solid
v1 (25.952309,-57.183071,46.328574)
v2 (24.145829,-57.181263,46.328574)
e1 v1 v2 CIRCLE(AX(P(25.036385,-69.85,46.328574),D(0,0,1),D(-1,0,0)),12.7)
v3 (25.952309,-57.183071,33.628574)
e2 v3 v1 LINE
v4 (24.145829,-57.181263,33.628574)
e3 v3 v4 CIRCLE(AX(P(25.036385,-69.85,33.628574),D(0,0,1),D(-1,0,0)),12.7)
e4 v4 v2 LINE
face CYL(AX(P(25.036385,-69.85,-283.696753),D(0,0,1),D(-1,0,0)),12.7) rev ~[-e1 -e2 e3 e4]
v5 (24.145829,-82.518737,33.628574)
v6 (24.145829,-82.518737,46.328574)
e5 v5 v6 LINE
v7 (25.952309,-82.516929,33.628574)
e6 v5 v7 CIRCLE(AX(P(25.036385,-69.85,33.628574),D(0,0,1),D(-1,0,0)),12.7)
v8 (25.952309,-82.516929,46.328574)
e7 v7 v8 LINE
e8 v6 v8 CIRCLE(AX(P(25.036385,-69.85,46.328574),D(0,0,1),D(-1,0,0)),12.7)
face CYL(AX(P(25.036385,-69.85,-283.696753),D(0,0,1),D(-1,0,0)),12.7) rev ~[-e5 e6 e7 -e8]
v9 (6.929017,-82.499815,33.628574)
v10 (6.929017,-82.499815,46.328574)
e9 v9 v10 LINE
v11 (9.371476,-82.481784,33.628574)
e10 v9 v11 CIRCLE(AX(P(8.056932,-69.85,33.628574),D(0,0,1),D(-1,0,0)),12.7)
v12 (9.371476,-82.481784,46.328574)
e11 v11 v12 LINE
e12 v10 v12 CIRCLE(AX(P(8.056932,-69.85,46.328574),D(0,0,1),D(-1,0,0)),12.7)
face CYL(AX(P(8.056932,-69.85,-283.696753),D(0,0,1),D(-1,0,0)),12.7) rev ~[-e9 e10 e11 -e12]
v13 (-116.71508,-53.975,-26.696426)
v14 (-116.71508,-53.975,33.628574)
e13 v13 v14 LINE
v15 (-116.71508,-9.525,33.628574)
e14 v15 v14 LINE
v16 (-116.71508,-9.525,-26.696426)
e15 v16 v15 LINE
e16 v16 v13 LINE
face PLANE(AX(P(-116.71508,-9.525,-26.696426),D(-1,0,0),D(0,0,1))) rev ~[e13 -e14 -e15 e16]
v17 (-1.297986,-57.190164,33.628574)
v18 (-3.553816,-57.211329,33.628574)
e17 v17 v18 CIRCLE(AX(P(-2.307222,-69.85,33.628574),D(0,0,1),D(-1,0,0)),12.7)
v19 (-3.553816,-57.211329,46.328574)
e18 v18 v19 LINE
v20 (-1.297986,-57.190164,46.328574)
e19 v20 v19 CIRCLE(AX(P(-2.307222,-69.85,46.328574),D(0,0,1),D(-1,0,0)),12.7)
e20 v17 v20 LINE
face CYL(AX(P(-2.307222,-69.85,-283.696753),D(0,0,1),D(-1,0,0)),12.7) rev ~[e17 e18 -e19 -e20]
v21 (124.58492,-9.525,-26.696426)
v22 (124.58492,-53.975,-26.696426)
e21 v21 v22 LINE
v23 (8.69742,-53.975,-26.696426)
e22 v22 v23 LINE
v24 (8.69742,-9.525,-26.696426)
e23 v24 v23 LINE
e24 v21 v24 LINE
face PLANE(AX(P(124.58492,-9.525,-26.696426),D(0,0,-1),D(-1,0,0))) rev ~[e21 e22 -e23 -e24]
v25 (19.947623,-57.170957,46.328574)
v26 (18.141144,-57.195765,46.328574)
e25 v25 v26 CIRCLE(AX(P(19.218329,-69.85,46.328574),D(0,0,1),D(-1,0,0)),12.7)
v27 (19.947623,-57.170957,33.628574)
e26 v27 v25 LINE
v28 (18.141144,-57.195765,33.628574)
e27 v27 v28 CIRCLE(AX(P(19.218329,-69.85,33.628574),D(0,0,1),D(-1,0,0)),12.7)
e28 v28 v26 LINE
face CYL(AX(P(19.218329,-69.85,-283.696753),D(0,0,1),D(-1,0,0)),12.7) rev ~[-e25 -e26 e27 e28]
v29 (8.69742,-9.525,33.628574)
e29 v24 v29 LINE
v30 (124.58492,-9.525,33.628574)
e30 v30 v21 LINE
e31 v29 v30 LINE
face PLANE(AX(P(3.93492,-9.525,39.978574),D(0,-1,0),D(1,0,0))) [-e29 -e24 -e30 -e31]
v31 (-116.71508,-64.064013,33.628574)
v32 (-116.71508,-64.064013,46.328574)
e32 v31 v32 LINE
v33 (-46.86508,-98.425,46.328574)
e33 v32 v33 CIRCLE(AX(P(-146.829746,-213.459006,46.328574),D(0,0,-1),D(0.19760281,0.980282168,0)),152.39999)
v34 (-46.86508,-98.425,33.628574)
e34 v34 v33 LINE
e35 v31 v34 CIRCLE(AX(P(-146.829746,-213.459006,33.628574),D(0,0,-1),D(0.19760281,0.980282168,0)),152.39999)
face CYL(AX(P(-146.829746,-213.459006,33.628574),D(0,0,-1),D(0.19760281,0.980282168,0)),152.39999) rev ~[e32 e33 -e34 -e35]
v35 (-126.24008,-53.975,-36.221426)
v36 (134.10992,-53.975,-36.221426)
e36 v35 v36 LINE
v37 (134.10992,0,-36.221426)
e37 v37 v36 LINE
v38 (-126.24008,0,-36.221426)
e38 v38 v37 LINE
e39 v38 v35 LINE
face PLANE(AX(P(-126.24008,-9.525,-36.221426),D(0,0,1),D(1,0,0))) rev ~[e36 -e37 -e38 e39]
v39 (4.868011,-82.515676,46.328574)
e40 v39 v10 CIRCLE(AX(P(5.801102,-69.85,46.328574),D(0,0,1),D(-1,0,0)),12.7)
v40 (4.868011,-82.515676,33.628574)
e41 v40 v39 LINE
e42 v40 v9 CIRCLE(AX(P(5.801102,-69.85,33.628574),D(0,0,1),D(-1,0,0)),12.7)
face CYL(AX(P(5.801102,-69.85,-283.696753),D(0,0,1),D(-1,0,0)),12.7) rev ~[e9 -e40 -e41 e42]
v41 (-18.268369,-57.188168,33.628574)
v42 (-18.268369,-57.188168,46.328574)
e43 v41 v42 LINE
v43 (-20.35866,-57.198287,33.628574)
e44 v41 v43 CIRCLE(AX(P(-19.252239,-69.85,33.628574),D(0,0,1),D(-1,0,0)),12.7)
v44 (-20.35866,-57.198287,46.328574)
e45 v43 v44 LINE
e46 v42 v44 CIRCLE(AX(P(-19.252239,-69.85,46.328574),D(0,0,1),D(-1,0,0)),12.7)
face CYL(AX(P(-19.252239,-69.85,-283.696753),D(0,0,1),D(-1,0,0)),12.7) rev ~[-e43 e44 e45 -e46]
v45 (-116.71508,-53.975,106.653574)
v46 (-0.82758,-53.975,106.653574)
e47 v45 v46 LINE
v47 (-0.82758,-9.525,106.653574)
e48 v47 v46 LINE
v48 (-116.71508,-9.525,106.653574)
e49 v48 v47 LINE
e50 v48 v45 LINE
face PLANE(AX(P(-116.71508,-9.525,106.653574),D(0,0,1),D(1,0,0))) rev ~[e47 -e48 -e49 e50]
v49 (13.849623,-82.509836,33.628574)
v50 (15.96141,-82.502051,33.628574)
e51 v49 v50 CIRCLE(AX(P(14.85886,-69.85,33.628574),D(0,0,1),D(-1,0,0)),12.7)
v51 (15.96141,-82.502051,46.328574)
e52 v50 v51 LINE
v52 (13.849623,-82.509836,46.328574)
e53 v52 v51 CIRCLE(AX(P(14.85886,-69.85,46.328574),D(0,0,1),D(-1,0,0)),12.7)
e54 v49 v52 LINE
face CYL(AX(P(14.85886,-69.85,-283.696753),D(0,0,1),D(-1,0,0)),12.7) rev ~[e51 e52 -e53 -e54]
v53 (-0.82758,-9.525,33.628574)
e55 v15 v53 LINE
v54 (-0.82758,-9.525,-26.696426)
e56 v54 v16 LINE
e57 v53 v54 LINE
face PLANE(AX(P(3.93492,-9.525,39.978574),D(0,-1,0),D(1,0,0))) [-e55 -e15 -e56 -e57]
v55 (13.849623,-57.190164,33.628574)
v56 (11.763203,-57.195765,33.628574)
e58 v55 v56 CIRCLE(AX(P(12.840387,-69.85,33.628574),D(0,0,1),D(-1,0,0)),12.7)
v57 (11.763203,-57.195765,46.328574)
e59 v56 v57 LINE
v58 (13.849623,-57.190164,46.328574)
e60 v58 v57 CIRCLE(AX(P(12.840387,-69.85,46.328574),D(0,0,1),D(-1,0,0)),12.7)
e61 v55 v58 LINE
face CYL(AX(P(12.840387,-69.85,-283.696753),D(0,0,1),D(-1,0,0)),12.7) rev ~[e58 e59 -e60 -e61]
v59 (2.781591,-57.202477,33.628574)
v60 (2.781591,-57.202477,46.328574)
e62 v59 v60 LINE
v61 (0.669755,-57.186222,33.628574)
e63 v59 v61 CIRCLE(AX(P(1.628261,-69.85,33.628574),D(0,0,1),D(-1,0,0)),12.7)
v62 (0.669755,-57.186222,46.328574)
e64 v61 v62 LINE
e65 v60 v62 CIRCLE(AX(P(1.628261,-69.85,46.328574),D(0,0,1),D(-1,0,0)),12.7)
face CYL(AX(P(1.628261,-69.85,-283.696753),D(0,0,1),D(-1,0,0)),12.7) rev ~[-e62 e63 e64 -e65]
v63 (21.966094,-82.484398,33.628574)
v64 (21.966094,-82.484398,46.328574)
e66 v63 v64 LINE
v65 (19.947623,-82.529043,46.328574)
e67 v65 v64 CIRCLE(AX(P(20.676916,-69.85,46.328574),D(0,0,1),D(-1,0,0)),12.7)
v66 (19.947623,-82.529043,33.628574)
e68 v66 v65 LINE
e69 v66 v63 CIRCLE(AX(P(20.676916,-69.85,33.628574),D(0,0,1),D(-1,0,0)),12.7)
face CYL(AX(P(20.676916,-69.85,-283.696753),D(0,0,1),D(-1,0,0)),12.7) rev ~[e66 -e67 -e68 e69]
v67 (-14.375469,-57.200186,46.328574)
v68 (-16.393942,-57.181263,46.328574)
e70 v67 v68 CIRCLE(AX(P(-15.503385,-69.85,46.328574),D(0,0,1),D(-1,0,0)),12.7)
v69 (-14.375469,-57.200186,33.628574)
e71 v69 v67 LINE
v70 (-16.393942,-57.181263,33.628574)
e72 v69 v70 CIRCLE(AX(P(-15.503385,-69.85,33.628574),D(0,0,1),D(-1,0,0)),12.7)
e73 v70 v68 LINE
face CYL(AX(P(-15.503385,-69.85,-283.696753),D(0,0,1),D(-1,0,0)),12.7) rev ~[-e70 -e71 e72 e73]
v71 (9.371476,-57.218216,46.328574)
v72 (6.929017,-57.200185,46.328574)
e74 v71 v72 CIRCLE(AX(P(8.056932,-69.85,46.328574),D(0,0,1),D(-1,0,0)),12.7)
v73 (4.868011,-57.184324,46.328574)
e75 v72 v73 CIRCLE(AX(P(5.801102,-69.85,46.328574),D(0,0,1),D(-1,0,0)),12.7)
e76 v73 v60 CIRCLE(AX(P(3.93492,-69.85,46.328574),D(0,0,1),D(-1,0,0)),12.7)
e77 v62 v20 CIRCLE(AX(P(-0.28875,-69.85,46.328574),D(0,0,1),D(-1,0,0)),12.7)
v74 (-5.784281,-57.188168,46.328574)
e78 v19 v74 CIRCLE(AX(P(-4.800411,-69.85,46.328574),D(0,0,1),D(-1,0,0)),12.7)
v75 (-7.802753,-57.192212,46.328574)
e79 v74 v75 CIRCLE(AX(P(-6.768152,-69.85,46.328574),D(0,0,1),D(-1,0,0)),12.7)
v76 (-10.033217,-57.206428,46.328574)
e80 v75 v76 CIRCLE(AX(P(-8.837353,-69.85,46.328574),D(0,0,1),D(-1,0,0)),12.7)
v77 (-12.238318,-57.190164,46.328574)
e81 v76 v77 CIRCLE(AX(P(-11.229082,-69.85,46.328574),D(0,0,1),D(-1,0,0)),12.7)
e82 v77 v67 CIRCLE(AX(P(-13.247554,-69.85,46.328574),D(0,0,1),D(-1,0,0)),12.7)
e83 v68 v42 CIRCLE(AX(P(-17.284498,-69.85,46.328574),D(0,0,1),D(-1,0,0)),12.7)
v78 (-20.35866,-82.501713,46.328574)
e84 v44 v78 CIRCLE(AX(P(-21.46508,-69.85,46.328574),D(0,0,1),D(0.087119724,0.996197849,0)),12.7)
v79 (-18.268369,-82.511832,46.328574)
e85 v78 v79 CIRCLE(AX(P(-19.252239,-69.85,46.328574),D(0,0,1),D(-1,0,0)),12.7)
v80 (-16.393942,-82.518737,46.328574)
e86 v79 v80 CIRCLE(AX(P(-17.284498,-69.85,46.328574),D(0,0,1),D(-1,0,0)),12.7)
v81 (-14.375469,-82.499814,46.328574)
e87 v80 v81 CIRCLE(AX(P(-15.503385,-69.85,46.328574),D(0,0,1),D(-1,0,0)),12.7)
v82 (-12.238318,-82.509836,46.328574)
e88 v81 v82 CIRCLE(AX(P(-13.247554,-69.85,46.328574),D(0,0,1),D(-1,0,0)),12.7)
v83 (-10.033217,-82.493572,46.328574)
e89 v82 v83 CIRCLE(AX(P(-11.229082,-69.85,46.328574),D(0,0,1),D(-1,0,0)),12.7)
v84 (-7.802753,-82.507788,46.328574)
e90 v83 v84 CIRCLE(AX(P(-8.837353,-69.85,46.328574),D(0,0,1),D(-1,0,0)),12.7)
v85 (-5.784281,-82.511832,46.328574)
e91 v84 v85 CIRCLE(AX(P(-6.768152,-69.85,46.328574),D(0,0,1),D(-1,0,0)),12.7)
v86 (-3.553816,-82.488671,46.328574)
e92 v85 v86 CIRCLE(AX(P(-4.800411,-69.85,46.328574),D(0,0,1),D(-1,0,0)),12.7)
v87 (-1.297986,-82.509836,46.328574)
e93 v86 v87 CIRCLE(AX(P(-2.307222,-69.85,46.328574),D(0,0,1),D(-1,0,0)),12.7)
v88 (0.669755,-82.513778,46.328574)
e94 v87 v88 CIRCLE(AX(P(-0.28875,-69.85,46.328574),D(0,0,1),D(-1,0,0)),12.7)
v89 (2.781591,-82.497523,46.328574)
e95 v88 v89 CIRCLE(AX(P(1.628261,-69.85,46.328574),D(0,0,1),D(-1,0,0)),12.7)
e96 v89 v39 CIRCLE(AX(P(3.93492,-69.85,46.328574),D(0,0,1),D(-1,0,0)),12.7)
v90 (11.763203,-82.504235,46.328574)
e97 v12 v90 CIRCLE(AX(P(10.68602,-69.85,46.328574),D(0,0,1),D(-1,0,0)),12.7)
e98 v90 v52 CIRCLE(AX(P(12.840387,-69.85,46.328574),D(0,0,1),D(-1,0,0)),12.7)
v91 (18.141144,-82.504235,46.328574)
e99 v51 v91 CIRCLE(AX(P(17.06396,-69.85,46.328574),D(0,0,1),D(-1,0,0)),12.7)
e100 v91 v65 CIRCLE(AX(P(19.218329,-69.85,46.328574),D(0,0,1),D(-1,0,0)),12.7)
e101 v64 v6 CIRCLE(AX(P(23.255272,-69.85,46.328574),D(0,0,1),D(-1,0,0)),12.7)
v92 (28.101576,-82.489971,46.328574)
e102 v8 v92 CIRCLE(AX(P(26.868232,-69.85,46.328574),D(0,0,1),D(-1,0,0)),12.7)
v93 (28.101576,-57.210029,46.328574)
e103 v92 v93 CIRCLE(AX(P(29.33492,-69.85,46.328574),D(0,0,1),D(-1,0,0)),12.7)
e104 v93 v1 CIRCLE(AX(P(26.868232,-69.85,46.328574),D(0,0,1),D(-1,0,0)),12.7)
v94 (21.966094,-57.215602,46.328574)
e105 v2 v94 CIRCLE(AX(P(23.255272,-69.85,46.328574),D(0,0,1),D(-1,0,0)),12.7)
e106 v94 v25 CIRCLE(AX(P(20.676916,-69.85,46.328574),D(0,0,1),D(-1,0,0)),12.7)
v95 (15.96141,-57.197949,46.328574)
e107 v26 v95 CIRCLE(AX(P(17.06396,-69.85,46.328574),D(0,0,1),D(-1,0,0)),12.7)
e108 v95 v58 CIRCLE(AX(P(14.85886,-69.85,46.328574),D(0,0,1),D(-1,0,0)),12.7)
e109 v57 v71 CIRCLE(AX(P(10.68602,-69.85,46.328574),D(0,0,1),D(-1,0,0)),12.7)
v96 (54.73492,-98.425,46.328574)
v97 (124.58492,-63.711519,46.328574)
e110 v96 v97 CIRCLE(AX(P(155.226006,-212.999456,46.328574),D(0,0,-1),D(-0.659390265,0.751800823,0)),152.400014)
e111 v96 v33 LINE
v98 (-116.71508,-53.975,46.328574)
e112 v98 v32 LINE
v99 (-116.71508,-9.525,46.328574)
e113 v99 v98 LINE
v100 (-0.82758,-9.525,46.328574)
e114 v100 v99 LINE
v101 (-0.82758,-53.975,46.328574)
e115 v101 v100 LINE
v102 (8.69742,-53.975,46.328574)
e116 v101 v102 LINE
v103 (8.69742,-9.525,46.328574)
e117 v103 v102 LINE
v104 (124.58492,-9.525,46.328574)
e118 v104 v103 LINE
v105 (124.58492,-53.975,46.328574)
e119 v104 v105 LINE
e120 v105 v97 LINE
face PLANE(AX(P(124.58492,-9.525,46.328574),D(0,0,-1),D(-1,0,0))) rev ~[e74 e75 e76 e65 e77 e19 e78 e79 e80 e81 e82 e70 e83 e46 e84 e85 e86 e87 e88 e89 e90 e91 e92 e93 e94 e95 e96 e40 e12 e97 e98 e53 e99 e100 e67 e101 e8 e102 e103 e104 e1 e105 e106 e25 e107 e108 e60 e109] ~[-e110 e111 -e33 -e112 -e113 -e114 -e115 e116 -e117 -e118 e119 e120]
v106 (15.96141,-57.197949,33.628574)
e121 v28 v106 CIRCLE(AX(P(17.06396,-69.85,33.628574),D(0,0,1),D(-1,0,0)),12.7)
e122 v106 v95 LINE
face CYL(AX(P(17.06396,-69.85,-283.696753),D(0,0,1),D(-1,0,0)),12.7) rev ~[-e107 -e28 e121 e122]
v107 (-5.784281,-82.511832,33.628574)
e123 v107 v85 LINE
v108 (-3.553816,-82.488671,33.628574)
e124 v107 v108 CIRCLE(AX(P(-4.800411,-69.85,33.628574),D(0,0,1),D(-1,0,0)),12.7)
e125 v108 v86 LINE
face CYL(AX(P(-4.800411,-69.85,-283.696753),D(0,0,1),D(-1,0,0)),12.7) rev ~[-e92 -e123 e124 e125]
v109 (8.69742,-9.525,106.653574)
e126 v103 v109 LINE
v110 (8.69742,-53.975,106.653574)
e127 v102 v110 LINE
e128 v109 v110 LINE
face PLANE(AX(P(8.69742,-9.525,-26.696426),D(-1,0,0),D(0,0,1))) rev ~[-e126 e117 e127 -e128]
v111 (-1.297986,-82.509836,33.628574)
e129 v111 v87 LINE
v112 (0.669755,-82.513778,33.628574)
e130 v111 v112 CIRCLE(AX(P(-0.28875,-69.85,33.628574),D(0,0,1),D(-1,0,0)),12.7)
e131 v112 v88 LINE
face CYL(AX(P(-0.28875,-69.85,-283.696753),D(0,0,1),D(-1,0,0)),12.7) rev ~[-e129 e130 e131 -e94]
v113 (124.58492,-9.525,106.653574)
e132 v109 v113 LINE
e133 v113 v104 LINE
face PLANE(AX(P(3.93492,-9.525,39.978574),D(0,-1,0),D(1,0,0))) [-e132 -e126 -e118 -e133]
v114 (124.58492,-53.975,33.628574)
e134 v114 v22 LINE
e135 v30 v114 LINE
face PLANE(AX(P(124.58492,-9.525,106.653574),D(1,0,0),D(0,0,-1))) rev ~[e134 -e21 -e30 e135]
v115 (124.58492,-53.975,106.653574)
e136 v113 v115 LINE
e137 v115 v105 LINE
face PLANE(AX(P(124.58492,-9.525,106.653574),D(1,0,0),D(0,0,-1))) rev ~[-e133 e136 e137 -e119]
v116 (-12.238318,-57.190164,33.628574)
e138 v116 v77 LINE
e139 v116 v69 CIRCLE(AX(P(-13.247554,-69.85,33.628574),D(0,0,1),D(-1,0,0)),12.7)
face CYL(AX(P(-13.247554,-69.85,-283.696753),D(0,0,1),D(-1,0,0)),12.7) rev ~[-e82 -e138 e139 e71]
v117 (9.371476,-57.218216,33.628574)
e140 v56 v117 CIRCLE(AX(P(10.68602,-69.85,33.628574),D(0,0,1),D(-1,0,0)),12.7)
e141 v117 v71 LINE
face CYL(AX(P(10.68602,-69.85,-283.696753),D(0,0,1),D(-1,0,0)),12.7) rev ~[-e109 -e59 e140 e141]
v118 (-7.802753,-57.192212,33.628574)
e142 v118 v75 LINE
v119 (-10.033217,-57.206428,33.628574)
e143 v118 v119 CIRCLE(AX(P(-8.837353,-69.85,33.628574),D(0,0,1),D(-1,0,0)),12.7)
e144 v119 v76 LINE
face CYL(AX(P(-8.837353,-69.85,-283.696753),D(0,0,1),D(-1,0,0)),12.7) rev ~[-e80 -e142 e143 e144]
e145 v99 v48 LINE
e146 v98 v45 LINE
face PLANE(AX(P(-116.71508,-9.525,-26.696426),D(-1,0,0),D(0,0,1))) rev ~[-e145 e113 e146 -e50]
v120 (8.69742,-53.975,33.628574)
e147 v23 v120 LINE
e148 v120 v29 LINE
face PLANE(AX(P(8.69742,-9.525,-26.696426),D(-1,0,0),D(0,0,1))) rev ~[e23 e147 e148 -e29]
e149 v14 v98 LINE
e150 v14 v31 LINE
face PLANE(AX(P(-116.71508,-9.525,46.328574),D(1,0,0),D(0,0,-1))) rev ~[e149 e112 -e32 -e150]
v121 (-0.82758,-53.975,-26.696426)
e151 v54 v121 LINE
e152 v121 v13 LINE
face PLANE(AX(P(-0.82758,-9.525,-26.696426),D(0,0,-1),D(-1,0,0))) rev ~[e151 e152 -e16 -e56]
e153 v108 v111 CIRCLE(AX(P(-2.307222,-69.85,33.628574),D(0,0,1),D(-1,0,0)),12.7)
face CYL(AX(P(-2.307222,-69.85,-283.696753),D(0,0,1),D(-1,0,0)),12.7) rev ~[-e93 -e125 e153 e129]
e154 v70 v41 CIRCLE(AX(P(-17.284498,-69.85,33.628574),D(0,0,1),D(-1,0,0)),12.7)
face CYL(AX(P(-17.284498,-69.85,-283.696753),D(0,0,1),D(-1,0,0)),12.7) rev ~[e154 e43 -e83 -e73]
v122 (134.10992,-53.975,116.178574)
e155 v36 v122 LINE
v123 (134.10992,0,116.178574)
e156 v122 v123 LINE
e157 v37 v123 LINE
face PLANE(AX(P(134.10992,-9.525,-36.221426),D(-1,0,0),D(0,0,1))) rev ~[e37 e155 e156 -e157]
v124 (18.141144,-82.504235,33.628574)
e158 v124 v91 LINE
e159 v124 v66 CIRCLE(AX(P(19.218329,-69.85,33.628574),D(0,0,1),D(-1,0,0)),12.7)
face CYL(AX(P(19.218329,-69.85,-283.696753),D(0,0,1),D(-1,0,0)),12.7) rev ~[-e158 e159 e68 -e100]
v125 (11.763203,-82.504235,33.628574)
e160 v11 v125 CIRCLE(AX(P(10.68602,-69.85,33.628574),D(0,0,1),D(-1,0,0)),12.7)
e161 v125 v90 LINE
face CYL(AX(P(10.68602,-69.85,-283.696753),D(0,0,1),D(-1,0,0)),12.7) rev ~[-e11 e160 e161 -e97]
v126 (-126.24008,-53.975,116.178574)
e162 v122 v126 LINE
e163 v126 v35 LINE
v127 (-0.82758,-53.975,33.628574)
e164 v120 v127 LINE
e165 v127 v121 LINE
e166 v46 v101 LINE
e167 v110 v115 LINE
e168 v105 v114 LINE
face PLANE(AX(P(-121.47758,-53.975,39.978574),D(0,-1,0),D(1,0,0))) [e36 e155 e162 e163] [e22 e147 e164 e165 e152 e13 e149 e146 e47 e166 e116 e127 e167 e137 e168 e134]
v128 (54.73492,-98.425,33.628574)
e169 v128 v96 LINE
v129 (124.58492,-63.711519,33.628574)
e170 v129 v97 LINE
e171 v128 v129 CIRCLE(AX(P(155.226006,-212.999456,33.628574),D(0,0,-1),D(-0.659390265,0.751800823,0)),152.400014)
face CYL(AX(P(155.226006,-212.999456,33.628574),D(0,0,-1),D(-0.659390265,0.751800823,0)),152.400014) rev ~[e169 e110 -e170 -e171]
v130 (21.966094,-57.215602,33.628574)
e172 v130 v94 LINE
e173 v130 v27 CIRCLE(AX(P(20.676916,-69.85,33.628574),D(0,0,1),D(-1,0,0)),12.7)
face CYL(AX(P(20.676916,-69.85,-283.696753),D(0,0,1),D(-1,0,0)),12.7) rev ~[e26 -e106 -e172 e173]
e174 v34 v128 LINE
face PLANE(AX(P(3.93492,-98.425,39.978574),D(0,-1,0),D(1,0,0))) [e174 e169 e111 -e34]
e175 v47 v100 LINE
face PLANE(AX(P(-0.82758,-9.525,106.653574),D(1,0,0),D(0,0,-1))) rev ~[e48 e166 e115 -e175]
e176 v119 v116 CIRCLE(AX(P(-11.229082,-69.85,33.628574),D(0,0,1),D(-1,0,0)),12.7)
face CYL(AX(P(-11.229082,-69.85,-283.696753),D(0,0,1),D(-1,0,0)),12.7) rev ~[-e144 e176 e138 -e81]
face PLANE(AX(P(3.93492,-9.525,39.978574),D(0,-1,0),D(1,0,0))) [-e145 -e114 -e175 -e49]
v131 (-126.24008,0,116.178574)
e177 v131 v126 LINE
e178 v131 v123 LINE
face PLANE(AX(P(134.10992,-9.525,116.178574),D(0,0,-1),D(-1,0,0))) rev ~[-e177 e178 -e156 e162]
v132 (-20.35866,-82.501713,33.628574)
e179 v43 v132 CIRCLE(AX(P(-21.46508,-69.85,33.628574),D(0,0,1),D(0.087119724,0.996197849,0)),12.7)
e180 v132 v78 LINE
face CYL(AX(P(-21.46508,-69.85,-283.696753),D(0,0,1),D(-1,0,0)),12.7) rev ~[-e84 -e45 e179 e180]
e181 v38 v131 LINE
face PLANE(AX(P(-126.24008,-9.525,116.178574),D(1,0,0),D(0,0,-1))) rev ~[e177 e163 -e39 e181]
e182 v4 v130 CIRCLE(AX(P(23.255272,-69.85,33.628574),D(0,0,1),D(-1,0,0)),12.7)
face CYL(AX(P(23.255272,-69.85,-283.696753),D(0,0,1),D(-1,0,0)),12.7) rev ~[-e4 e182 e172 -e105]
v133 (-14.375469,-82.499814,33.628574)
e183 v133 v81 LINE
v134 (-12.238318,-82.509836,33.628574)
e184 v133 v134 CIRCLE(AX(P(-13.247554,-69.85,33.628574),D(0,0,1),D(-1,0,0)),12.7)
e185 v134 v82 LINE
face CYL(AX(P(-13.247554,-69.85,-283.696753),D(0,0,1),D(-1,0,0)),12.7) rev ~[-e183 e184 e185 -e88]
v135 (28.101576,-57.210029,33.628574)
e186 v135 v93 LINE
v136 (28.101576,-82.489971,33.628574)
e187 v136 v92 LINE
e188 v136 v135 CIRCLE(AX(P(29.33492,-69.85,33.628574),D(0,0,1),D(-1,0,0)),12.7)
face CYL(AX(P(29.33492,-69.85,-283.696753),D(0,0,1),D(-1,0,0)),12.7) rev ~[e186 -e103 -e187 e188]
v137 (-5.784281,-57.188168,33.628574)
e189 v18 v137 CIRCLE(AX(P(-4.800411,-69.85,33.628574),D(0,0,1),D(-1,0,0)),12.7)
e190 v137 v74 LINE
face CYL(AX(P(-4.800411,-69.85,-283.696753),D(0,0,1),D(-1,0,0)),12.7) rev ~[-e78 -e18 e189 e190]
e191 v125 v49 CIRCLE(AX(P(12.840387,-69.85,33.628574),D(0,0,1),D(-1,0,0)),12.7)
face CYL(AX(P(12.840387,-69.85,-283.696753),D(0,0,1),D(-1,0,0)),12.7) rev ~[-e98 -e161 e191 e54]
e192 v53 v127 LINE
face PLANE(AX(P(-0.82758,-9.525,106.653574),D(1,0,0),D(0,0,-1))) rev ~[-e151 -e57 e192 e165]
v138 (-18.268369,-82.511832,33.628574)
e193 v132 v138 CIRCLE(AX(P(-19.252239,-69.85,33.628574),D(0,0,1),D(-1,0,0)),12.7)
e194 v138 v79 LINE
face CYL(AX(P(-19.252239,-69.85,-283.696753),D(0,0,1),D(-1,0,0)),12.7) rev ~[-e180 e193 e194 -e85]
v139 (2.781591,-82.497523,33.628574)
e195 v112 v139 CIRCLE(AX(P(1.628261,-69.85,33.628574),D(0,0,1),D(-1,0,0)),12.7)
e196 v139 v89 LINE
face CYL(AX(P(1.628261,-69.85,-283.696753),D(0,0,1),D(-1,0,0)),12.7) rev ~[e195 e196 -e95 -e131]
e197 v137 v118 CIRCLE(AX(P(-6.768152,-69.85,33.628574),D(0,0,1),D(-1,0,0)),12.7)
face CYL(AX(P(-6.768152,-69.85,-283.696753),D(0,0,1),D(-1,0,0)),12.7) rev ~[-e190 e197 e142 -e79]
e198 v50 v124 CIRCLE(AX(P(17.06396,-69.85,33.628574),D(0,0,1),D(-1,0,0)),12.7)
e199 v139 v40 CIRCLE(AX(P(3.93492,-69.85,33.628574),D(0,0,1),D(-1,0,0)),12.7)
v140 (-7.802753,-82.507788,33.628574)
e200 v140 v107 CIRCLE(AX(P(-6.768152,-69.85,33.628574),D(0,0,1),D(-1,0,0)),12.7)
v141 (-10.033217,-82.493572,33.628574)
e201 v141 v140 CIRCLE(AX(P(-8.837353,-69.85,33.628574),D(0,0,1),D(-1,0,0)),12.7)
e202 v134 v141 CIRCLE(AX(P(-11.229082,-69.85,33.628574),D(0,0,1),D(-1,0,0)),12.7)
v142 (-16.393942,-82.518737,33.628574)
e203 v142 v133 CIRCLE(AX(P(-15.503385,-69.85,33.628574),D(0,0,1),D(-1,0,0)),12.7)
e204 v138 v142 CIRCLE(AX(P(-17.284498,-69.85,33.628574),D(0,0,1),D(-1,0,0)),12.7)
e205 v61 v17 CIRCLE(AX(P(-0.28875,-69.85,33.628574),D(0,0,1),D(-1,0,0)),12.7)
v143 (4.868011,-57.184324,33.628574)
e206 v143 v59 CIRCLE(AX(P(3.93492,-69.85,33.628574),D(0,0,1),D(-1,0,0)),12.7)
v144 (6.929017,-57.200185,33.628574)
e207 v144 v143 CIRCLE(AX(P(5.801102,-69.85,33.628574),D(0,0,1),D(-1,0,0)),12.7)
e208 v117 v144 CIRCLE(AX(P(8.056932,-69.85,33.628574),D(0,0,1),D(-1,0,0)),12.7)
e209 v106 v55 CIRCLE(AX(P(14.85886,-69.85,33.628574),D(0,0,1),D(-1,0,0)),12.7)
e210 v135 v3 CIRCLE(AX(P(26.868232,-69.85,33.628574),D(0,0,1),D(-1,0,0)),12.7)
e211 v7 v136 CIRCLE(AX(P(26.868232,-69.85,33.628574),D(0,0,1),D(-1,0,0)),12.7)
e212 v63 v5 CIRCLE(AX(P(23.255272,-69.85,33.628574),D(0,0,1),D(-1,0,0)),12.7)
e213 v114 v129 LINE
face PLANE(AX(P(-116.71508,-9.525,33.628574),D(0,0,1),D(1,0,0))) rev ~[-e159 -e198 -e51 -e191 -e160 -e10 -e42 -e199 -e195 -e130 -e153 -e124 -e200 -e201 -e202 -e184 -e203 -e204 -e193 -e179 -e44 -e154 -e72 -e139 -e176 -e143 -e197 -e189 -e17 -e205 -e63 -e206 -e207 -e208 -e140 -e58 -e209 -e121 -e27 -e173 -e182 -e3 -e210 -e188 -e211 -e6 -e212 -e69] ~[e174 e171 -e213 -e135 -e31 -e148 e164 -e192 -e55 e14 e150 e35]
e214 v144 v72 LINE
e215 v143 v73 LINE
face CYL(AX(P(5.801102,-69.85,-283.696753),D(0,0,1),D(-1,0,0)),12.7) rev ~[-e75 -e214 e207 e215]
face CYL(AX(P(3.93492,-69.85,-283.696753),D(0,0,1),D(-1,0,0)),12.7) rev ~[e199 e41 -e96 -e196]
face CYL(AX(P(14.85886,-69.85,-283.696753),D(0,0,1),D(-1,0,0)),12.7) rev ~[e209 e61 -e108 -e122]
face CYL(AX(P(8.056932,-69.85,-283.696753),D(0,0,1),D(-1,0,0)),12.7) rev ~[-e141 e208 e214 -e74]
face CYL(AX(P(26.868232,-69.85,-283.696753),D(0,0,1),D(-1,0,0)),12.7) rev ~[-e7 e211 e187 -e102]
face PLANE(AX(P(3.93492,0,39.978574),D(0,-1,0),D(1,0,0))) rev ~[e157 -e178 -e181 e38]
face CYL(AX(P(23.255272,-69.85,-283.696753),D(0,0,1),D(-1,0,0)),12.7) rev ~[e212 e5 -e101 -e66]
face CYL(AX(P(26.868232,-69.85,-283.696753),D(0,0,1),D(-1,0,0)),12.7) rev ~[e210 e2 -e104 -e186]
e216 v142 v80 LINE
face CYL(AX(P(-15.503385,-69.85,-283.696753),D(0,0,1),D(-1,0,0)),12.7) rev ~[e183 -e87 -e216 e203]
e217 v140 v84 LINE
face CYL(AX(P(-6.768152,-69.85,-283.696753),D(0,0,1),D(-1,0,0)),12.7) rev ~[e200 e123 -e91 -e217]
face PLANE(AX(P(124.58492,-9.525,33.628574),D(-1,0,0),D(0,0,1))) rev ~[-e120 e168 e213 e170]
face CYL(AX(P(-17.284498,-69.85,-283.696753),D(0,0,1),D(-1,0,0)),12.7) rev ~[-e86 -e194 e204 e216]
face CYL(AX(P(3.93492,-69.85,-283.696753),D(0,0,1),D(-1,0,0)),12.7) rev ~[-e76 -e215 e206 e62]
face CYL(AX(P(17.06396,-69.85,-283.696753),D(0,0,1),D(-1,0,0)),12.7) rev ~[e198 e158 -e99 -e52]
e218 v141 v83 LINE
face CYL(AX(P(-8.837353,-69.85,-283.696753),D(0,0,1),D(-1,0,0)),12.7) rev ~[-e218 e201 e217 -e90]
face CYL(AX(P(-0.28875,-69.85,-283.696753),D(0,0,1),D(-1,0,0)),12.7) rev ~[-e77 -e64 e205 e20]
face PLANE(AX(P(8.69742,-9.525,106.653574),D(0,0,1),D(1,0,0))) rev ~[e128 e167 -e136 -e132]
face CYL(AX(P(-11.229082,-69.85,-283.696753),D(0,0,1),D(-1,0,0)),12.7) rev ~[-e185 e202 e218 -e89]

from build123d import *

# Parameters (mm, degrees)
F0_W     = 260.35
F0_H     = 152.4
F1_DEPTH = 9.525
F3_DEPTH = 44.45
F5_DEPTH = 88.9
F7_D     = 25.4
F9_DEPTH = 25.4


with BuildPart() as f1:
    # F0 (on Front) → F1 (new body)
    with BuildSketch(Plane.XZ):
        with Locations((3.93492, 39.978574)):
            Rectangle(F0_W, F0_H)
    extrude(amount=F1_DEPTH)

    # F2 (on face) → F3 (join)
    with BuildSketch(Plane.XZ.offset(9.525)):
        Polygon((-126.24008, 106.653574), (-126.24008, -26.696426), (-116.71508, -26.696426), (-116.71508, 49.017824), (-116.71508, 106.653574), align=None)
        Polygon((124.58492, 106.653574), (134.10992, 106.653574), (134.10992, 116.178574), (-126.24008, 116.178574), (-126.24008, 106.653574), (-116.71508, 106.653574), (-0.82758, 106.653574), (8.69742, 106.653574), align=None)
        Polygon((-0.82758, -26.696426), (8.69742, -26.696426), (8.69742, 55.01255), (8.69742, 106.653574), (-0.82758, 106.653574), (-0.82758, 77.835699), align=None)
        Polygon((124.58492, -26.696426), (134.10992, -26.696426), (134.10992, 106.653574), (124.58492, 106.653574), (124.58492, 65.446369), align=None)
        Polygon((-126.24008, -36.221426), (134.10992, -36.221426), (134.10992, -26.696426), (124.58492, -26.696426), (8.69742, -26.696426), (-0.82758, -26.696426), (-116.71508, -26.696426), (-126.24008, -26.696426), align=None)
    extrude(amount=F3_DEPTH)

    # F4 (on face) → F5 (join)
    with BuildSketch(Plane.XZ.offset(9.525)):
        Polygon((-116.71508, 33.628574), (38.57762, 33.628574), (124.58492, 33.628574), (124.58492, 46.328574), (37.81344, 46.328574), (-4.043767, 46.328574), (-116.71508, 46.328574), align=None)
    extrude(amount=F5_DEPTH)

    # F7 (through all)
    with Locations(Plane(origin=(0, 0, 33.628574), x_dir=(1, 0, 0), z_dir=(0, 0, -1))):
        with Locations((-21.46508, 69.85), (-19.252239, 69.85), (-17.284498, 69.85), (-15.503385, 69.85), (-13.247554, 69.85), (-11.229082, 69.85), (-8.837353, 69.85), (-6.768152, 69.85), (-4.800411, 69.85), (-2.307222, 69.85), (-0.28875, 69.85), (1.628261, 69.85), (3.93492, 69.85), (5.801102, 69.85), (8.056932, 69.85), (10.68602, 69.85), (12.840387, 69.85), (14.85886, 69.85), (17.06396, 69.85), (19.218329, 69.85), (20.676916, 69.85), (23.255272, 69.85), (25.036385, 69.85), (26.868232, 69.85), (29.33492, 69.85)):
            Hole(F7_D / 2)

    # F8 (on face) → F9 (cut)
    with BuildSketch(Plane(origin=(0, 0, 33.628574), x_dir=(1, 0, 0), z_dir=(0, 0, -1))):
        with BuildLine():
            Line((-116.71508, 98.425), (-116.71508, 64.064013))
            ThreePointArc((-116.71508, 64.064013), (-79.559192, 76.709492), (-46.86508, 98.425))
            Line((-46.86508, 98.425), (-116.71508, 98.425))
        make_face()
        with BuildLine():
            Line((124.58492, 98.425), (54.73492, 98.425))
            ThreePointArc((54.73492, 98.425), (87.401467, 76.523831), (124.58492, 63.711519))
            Line((124.58492, 63.711519), (124.58492, 98.425))
        make_face()
    extrude(amount=-F9_DEPTH, mode=Mode.SUBTRACT)


solid = f1.part
